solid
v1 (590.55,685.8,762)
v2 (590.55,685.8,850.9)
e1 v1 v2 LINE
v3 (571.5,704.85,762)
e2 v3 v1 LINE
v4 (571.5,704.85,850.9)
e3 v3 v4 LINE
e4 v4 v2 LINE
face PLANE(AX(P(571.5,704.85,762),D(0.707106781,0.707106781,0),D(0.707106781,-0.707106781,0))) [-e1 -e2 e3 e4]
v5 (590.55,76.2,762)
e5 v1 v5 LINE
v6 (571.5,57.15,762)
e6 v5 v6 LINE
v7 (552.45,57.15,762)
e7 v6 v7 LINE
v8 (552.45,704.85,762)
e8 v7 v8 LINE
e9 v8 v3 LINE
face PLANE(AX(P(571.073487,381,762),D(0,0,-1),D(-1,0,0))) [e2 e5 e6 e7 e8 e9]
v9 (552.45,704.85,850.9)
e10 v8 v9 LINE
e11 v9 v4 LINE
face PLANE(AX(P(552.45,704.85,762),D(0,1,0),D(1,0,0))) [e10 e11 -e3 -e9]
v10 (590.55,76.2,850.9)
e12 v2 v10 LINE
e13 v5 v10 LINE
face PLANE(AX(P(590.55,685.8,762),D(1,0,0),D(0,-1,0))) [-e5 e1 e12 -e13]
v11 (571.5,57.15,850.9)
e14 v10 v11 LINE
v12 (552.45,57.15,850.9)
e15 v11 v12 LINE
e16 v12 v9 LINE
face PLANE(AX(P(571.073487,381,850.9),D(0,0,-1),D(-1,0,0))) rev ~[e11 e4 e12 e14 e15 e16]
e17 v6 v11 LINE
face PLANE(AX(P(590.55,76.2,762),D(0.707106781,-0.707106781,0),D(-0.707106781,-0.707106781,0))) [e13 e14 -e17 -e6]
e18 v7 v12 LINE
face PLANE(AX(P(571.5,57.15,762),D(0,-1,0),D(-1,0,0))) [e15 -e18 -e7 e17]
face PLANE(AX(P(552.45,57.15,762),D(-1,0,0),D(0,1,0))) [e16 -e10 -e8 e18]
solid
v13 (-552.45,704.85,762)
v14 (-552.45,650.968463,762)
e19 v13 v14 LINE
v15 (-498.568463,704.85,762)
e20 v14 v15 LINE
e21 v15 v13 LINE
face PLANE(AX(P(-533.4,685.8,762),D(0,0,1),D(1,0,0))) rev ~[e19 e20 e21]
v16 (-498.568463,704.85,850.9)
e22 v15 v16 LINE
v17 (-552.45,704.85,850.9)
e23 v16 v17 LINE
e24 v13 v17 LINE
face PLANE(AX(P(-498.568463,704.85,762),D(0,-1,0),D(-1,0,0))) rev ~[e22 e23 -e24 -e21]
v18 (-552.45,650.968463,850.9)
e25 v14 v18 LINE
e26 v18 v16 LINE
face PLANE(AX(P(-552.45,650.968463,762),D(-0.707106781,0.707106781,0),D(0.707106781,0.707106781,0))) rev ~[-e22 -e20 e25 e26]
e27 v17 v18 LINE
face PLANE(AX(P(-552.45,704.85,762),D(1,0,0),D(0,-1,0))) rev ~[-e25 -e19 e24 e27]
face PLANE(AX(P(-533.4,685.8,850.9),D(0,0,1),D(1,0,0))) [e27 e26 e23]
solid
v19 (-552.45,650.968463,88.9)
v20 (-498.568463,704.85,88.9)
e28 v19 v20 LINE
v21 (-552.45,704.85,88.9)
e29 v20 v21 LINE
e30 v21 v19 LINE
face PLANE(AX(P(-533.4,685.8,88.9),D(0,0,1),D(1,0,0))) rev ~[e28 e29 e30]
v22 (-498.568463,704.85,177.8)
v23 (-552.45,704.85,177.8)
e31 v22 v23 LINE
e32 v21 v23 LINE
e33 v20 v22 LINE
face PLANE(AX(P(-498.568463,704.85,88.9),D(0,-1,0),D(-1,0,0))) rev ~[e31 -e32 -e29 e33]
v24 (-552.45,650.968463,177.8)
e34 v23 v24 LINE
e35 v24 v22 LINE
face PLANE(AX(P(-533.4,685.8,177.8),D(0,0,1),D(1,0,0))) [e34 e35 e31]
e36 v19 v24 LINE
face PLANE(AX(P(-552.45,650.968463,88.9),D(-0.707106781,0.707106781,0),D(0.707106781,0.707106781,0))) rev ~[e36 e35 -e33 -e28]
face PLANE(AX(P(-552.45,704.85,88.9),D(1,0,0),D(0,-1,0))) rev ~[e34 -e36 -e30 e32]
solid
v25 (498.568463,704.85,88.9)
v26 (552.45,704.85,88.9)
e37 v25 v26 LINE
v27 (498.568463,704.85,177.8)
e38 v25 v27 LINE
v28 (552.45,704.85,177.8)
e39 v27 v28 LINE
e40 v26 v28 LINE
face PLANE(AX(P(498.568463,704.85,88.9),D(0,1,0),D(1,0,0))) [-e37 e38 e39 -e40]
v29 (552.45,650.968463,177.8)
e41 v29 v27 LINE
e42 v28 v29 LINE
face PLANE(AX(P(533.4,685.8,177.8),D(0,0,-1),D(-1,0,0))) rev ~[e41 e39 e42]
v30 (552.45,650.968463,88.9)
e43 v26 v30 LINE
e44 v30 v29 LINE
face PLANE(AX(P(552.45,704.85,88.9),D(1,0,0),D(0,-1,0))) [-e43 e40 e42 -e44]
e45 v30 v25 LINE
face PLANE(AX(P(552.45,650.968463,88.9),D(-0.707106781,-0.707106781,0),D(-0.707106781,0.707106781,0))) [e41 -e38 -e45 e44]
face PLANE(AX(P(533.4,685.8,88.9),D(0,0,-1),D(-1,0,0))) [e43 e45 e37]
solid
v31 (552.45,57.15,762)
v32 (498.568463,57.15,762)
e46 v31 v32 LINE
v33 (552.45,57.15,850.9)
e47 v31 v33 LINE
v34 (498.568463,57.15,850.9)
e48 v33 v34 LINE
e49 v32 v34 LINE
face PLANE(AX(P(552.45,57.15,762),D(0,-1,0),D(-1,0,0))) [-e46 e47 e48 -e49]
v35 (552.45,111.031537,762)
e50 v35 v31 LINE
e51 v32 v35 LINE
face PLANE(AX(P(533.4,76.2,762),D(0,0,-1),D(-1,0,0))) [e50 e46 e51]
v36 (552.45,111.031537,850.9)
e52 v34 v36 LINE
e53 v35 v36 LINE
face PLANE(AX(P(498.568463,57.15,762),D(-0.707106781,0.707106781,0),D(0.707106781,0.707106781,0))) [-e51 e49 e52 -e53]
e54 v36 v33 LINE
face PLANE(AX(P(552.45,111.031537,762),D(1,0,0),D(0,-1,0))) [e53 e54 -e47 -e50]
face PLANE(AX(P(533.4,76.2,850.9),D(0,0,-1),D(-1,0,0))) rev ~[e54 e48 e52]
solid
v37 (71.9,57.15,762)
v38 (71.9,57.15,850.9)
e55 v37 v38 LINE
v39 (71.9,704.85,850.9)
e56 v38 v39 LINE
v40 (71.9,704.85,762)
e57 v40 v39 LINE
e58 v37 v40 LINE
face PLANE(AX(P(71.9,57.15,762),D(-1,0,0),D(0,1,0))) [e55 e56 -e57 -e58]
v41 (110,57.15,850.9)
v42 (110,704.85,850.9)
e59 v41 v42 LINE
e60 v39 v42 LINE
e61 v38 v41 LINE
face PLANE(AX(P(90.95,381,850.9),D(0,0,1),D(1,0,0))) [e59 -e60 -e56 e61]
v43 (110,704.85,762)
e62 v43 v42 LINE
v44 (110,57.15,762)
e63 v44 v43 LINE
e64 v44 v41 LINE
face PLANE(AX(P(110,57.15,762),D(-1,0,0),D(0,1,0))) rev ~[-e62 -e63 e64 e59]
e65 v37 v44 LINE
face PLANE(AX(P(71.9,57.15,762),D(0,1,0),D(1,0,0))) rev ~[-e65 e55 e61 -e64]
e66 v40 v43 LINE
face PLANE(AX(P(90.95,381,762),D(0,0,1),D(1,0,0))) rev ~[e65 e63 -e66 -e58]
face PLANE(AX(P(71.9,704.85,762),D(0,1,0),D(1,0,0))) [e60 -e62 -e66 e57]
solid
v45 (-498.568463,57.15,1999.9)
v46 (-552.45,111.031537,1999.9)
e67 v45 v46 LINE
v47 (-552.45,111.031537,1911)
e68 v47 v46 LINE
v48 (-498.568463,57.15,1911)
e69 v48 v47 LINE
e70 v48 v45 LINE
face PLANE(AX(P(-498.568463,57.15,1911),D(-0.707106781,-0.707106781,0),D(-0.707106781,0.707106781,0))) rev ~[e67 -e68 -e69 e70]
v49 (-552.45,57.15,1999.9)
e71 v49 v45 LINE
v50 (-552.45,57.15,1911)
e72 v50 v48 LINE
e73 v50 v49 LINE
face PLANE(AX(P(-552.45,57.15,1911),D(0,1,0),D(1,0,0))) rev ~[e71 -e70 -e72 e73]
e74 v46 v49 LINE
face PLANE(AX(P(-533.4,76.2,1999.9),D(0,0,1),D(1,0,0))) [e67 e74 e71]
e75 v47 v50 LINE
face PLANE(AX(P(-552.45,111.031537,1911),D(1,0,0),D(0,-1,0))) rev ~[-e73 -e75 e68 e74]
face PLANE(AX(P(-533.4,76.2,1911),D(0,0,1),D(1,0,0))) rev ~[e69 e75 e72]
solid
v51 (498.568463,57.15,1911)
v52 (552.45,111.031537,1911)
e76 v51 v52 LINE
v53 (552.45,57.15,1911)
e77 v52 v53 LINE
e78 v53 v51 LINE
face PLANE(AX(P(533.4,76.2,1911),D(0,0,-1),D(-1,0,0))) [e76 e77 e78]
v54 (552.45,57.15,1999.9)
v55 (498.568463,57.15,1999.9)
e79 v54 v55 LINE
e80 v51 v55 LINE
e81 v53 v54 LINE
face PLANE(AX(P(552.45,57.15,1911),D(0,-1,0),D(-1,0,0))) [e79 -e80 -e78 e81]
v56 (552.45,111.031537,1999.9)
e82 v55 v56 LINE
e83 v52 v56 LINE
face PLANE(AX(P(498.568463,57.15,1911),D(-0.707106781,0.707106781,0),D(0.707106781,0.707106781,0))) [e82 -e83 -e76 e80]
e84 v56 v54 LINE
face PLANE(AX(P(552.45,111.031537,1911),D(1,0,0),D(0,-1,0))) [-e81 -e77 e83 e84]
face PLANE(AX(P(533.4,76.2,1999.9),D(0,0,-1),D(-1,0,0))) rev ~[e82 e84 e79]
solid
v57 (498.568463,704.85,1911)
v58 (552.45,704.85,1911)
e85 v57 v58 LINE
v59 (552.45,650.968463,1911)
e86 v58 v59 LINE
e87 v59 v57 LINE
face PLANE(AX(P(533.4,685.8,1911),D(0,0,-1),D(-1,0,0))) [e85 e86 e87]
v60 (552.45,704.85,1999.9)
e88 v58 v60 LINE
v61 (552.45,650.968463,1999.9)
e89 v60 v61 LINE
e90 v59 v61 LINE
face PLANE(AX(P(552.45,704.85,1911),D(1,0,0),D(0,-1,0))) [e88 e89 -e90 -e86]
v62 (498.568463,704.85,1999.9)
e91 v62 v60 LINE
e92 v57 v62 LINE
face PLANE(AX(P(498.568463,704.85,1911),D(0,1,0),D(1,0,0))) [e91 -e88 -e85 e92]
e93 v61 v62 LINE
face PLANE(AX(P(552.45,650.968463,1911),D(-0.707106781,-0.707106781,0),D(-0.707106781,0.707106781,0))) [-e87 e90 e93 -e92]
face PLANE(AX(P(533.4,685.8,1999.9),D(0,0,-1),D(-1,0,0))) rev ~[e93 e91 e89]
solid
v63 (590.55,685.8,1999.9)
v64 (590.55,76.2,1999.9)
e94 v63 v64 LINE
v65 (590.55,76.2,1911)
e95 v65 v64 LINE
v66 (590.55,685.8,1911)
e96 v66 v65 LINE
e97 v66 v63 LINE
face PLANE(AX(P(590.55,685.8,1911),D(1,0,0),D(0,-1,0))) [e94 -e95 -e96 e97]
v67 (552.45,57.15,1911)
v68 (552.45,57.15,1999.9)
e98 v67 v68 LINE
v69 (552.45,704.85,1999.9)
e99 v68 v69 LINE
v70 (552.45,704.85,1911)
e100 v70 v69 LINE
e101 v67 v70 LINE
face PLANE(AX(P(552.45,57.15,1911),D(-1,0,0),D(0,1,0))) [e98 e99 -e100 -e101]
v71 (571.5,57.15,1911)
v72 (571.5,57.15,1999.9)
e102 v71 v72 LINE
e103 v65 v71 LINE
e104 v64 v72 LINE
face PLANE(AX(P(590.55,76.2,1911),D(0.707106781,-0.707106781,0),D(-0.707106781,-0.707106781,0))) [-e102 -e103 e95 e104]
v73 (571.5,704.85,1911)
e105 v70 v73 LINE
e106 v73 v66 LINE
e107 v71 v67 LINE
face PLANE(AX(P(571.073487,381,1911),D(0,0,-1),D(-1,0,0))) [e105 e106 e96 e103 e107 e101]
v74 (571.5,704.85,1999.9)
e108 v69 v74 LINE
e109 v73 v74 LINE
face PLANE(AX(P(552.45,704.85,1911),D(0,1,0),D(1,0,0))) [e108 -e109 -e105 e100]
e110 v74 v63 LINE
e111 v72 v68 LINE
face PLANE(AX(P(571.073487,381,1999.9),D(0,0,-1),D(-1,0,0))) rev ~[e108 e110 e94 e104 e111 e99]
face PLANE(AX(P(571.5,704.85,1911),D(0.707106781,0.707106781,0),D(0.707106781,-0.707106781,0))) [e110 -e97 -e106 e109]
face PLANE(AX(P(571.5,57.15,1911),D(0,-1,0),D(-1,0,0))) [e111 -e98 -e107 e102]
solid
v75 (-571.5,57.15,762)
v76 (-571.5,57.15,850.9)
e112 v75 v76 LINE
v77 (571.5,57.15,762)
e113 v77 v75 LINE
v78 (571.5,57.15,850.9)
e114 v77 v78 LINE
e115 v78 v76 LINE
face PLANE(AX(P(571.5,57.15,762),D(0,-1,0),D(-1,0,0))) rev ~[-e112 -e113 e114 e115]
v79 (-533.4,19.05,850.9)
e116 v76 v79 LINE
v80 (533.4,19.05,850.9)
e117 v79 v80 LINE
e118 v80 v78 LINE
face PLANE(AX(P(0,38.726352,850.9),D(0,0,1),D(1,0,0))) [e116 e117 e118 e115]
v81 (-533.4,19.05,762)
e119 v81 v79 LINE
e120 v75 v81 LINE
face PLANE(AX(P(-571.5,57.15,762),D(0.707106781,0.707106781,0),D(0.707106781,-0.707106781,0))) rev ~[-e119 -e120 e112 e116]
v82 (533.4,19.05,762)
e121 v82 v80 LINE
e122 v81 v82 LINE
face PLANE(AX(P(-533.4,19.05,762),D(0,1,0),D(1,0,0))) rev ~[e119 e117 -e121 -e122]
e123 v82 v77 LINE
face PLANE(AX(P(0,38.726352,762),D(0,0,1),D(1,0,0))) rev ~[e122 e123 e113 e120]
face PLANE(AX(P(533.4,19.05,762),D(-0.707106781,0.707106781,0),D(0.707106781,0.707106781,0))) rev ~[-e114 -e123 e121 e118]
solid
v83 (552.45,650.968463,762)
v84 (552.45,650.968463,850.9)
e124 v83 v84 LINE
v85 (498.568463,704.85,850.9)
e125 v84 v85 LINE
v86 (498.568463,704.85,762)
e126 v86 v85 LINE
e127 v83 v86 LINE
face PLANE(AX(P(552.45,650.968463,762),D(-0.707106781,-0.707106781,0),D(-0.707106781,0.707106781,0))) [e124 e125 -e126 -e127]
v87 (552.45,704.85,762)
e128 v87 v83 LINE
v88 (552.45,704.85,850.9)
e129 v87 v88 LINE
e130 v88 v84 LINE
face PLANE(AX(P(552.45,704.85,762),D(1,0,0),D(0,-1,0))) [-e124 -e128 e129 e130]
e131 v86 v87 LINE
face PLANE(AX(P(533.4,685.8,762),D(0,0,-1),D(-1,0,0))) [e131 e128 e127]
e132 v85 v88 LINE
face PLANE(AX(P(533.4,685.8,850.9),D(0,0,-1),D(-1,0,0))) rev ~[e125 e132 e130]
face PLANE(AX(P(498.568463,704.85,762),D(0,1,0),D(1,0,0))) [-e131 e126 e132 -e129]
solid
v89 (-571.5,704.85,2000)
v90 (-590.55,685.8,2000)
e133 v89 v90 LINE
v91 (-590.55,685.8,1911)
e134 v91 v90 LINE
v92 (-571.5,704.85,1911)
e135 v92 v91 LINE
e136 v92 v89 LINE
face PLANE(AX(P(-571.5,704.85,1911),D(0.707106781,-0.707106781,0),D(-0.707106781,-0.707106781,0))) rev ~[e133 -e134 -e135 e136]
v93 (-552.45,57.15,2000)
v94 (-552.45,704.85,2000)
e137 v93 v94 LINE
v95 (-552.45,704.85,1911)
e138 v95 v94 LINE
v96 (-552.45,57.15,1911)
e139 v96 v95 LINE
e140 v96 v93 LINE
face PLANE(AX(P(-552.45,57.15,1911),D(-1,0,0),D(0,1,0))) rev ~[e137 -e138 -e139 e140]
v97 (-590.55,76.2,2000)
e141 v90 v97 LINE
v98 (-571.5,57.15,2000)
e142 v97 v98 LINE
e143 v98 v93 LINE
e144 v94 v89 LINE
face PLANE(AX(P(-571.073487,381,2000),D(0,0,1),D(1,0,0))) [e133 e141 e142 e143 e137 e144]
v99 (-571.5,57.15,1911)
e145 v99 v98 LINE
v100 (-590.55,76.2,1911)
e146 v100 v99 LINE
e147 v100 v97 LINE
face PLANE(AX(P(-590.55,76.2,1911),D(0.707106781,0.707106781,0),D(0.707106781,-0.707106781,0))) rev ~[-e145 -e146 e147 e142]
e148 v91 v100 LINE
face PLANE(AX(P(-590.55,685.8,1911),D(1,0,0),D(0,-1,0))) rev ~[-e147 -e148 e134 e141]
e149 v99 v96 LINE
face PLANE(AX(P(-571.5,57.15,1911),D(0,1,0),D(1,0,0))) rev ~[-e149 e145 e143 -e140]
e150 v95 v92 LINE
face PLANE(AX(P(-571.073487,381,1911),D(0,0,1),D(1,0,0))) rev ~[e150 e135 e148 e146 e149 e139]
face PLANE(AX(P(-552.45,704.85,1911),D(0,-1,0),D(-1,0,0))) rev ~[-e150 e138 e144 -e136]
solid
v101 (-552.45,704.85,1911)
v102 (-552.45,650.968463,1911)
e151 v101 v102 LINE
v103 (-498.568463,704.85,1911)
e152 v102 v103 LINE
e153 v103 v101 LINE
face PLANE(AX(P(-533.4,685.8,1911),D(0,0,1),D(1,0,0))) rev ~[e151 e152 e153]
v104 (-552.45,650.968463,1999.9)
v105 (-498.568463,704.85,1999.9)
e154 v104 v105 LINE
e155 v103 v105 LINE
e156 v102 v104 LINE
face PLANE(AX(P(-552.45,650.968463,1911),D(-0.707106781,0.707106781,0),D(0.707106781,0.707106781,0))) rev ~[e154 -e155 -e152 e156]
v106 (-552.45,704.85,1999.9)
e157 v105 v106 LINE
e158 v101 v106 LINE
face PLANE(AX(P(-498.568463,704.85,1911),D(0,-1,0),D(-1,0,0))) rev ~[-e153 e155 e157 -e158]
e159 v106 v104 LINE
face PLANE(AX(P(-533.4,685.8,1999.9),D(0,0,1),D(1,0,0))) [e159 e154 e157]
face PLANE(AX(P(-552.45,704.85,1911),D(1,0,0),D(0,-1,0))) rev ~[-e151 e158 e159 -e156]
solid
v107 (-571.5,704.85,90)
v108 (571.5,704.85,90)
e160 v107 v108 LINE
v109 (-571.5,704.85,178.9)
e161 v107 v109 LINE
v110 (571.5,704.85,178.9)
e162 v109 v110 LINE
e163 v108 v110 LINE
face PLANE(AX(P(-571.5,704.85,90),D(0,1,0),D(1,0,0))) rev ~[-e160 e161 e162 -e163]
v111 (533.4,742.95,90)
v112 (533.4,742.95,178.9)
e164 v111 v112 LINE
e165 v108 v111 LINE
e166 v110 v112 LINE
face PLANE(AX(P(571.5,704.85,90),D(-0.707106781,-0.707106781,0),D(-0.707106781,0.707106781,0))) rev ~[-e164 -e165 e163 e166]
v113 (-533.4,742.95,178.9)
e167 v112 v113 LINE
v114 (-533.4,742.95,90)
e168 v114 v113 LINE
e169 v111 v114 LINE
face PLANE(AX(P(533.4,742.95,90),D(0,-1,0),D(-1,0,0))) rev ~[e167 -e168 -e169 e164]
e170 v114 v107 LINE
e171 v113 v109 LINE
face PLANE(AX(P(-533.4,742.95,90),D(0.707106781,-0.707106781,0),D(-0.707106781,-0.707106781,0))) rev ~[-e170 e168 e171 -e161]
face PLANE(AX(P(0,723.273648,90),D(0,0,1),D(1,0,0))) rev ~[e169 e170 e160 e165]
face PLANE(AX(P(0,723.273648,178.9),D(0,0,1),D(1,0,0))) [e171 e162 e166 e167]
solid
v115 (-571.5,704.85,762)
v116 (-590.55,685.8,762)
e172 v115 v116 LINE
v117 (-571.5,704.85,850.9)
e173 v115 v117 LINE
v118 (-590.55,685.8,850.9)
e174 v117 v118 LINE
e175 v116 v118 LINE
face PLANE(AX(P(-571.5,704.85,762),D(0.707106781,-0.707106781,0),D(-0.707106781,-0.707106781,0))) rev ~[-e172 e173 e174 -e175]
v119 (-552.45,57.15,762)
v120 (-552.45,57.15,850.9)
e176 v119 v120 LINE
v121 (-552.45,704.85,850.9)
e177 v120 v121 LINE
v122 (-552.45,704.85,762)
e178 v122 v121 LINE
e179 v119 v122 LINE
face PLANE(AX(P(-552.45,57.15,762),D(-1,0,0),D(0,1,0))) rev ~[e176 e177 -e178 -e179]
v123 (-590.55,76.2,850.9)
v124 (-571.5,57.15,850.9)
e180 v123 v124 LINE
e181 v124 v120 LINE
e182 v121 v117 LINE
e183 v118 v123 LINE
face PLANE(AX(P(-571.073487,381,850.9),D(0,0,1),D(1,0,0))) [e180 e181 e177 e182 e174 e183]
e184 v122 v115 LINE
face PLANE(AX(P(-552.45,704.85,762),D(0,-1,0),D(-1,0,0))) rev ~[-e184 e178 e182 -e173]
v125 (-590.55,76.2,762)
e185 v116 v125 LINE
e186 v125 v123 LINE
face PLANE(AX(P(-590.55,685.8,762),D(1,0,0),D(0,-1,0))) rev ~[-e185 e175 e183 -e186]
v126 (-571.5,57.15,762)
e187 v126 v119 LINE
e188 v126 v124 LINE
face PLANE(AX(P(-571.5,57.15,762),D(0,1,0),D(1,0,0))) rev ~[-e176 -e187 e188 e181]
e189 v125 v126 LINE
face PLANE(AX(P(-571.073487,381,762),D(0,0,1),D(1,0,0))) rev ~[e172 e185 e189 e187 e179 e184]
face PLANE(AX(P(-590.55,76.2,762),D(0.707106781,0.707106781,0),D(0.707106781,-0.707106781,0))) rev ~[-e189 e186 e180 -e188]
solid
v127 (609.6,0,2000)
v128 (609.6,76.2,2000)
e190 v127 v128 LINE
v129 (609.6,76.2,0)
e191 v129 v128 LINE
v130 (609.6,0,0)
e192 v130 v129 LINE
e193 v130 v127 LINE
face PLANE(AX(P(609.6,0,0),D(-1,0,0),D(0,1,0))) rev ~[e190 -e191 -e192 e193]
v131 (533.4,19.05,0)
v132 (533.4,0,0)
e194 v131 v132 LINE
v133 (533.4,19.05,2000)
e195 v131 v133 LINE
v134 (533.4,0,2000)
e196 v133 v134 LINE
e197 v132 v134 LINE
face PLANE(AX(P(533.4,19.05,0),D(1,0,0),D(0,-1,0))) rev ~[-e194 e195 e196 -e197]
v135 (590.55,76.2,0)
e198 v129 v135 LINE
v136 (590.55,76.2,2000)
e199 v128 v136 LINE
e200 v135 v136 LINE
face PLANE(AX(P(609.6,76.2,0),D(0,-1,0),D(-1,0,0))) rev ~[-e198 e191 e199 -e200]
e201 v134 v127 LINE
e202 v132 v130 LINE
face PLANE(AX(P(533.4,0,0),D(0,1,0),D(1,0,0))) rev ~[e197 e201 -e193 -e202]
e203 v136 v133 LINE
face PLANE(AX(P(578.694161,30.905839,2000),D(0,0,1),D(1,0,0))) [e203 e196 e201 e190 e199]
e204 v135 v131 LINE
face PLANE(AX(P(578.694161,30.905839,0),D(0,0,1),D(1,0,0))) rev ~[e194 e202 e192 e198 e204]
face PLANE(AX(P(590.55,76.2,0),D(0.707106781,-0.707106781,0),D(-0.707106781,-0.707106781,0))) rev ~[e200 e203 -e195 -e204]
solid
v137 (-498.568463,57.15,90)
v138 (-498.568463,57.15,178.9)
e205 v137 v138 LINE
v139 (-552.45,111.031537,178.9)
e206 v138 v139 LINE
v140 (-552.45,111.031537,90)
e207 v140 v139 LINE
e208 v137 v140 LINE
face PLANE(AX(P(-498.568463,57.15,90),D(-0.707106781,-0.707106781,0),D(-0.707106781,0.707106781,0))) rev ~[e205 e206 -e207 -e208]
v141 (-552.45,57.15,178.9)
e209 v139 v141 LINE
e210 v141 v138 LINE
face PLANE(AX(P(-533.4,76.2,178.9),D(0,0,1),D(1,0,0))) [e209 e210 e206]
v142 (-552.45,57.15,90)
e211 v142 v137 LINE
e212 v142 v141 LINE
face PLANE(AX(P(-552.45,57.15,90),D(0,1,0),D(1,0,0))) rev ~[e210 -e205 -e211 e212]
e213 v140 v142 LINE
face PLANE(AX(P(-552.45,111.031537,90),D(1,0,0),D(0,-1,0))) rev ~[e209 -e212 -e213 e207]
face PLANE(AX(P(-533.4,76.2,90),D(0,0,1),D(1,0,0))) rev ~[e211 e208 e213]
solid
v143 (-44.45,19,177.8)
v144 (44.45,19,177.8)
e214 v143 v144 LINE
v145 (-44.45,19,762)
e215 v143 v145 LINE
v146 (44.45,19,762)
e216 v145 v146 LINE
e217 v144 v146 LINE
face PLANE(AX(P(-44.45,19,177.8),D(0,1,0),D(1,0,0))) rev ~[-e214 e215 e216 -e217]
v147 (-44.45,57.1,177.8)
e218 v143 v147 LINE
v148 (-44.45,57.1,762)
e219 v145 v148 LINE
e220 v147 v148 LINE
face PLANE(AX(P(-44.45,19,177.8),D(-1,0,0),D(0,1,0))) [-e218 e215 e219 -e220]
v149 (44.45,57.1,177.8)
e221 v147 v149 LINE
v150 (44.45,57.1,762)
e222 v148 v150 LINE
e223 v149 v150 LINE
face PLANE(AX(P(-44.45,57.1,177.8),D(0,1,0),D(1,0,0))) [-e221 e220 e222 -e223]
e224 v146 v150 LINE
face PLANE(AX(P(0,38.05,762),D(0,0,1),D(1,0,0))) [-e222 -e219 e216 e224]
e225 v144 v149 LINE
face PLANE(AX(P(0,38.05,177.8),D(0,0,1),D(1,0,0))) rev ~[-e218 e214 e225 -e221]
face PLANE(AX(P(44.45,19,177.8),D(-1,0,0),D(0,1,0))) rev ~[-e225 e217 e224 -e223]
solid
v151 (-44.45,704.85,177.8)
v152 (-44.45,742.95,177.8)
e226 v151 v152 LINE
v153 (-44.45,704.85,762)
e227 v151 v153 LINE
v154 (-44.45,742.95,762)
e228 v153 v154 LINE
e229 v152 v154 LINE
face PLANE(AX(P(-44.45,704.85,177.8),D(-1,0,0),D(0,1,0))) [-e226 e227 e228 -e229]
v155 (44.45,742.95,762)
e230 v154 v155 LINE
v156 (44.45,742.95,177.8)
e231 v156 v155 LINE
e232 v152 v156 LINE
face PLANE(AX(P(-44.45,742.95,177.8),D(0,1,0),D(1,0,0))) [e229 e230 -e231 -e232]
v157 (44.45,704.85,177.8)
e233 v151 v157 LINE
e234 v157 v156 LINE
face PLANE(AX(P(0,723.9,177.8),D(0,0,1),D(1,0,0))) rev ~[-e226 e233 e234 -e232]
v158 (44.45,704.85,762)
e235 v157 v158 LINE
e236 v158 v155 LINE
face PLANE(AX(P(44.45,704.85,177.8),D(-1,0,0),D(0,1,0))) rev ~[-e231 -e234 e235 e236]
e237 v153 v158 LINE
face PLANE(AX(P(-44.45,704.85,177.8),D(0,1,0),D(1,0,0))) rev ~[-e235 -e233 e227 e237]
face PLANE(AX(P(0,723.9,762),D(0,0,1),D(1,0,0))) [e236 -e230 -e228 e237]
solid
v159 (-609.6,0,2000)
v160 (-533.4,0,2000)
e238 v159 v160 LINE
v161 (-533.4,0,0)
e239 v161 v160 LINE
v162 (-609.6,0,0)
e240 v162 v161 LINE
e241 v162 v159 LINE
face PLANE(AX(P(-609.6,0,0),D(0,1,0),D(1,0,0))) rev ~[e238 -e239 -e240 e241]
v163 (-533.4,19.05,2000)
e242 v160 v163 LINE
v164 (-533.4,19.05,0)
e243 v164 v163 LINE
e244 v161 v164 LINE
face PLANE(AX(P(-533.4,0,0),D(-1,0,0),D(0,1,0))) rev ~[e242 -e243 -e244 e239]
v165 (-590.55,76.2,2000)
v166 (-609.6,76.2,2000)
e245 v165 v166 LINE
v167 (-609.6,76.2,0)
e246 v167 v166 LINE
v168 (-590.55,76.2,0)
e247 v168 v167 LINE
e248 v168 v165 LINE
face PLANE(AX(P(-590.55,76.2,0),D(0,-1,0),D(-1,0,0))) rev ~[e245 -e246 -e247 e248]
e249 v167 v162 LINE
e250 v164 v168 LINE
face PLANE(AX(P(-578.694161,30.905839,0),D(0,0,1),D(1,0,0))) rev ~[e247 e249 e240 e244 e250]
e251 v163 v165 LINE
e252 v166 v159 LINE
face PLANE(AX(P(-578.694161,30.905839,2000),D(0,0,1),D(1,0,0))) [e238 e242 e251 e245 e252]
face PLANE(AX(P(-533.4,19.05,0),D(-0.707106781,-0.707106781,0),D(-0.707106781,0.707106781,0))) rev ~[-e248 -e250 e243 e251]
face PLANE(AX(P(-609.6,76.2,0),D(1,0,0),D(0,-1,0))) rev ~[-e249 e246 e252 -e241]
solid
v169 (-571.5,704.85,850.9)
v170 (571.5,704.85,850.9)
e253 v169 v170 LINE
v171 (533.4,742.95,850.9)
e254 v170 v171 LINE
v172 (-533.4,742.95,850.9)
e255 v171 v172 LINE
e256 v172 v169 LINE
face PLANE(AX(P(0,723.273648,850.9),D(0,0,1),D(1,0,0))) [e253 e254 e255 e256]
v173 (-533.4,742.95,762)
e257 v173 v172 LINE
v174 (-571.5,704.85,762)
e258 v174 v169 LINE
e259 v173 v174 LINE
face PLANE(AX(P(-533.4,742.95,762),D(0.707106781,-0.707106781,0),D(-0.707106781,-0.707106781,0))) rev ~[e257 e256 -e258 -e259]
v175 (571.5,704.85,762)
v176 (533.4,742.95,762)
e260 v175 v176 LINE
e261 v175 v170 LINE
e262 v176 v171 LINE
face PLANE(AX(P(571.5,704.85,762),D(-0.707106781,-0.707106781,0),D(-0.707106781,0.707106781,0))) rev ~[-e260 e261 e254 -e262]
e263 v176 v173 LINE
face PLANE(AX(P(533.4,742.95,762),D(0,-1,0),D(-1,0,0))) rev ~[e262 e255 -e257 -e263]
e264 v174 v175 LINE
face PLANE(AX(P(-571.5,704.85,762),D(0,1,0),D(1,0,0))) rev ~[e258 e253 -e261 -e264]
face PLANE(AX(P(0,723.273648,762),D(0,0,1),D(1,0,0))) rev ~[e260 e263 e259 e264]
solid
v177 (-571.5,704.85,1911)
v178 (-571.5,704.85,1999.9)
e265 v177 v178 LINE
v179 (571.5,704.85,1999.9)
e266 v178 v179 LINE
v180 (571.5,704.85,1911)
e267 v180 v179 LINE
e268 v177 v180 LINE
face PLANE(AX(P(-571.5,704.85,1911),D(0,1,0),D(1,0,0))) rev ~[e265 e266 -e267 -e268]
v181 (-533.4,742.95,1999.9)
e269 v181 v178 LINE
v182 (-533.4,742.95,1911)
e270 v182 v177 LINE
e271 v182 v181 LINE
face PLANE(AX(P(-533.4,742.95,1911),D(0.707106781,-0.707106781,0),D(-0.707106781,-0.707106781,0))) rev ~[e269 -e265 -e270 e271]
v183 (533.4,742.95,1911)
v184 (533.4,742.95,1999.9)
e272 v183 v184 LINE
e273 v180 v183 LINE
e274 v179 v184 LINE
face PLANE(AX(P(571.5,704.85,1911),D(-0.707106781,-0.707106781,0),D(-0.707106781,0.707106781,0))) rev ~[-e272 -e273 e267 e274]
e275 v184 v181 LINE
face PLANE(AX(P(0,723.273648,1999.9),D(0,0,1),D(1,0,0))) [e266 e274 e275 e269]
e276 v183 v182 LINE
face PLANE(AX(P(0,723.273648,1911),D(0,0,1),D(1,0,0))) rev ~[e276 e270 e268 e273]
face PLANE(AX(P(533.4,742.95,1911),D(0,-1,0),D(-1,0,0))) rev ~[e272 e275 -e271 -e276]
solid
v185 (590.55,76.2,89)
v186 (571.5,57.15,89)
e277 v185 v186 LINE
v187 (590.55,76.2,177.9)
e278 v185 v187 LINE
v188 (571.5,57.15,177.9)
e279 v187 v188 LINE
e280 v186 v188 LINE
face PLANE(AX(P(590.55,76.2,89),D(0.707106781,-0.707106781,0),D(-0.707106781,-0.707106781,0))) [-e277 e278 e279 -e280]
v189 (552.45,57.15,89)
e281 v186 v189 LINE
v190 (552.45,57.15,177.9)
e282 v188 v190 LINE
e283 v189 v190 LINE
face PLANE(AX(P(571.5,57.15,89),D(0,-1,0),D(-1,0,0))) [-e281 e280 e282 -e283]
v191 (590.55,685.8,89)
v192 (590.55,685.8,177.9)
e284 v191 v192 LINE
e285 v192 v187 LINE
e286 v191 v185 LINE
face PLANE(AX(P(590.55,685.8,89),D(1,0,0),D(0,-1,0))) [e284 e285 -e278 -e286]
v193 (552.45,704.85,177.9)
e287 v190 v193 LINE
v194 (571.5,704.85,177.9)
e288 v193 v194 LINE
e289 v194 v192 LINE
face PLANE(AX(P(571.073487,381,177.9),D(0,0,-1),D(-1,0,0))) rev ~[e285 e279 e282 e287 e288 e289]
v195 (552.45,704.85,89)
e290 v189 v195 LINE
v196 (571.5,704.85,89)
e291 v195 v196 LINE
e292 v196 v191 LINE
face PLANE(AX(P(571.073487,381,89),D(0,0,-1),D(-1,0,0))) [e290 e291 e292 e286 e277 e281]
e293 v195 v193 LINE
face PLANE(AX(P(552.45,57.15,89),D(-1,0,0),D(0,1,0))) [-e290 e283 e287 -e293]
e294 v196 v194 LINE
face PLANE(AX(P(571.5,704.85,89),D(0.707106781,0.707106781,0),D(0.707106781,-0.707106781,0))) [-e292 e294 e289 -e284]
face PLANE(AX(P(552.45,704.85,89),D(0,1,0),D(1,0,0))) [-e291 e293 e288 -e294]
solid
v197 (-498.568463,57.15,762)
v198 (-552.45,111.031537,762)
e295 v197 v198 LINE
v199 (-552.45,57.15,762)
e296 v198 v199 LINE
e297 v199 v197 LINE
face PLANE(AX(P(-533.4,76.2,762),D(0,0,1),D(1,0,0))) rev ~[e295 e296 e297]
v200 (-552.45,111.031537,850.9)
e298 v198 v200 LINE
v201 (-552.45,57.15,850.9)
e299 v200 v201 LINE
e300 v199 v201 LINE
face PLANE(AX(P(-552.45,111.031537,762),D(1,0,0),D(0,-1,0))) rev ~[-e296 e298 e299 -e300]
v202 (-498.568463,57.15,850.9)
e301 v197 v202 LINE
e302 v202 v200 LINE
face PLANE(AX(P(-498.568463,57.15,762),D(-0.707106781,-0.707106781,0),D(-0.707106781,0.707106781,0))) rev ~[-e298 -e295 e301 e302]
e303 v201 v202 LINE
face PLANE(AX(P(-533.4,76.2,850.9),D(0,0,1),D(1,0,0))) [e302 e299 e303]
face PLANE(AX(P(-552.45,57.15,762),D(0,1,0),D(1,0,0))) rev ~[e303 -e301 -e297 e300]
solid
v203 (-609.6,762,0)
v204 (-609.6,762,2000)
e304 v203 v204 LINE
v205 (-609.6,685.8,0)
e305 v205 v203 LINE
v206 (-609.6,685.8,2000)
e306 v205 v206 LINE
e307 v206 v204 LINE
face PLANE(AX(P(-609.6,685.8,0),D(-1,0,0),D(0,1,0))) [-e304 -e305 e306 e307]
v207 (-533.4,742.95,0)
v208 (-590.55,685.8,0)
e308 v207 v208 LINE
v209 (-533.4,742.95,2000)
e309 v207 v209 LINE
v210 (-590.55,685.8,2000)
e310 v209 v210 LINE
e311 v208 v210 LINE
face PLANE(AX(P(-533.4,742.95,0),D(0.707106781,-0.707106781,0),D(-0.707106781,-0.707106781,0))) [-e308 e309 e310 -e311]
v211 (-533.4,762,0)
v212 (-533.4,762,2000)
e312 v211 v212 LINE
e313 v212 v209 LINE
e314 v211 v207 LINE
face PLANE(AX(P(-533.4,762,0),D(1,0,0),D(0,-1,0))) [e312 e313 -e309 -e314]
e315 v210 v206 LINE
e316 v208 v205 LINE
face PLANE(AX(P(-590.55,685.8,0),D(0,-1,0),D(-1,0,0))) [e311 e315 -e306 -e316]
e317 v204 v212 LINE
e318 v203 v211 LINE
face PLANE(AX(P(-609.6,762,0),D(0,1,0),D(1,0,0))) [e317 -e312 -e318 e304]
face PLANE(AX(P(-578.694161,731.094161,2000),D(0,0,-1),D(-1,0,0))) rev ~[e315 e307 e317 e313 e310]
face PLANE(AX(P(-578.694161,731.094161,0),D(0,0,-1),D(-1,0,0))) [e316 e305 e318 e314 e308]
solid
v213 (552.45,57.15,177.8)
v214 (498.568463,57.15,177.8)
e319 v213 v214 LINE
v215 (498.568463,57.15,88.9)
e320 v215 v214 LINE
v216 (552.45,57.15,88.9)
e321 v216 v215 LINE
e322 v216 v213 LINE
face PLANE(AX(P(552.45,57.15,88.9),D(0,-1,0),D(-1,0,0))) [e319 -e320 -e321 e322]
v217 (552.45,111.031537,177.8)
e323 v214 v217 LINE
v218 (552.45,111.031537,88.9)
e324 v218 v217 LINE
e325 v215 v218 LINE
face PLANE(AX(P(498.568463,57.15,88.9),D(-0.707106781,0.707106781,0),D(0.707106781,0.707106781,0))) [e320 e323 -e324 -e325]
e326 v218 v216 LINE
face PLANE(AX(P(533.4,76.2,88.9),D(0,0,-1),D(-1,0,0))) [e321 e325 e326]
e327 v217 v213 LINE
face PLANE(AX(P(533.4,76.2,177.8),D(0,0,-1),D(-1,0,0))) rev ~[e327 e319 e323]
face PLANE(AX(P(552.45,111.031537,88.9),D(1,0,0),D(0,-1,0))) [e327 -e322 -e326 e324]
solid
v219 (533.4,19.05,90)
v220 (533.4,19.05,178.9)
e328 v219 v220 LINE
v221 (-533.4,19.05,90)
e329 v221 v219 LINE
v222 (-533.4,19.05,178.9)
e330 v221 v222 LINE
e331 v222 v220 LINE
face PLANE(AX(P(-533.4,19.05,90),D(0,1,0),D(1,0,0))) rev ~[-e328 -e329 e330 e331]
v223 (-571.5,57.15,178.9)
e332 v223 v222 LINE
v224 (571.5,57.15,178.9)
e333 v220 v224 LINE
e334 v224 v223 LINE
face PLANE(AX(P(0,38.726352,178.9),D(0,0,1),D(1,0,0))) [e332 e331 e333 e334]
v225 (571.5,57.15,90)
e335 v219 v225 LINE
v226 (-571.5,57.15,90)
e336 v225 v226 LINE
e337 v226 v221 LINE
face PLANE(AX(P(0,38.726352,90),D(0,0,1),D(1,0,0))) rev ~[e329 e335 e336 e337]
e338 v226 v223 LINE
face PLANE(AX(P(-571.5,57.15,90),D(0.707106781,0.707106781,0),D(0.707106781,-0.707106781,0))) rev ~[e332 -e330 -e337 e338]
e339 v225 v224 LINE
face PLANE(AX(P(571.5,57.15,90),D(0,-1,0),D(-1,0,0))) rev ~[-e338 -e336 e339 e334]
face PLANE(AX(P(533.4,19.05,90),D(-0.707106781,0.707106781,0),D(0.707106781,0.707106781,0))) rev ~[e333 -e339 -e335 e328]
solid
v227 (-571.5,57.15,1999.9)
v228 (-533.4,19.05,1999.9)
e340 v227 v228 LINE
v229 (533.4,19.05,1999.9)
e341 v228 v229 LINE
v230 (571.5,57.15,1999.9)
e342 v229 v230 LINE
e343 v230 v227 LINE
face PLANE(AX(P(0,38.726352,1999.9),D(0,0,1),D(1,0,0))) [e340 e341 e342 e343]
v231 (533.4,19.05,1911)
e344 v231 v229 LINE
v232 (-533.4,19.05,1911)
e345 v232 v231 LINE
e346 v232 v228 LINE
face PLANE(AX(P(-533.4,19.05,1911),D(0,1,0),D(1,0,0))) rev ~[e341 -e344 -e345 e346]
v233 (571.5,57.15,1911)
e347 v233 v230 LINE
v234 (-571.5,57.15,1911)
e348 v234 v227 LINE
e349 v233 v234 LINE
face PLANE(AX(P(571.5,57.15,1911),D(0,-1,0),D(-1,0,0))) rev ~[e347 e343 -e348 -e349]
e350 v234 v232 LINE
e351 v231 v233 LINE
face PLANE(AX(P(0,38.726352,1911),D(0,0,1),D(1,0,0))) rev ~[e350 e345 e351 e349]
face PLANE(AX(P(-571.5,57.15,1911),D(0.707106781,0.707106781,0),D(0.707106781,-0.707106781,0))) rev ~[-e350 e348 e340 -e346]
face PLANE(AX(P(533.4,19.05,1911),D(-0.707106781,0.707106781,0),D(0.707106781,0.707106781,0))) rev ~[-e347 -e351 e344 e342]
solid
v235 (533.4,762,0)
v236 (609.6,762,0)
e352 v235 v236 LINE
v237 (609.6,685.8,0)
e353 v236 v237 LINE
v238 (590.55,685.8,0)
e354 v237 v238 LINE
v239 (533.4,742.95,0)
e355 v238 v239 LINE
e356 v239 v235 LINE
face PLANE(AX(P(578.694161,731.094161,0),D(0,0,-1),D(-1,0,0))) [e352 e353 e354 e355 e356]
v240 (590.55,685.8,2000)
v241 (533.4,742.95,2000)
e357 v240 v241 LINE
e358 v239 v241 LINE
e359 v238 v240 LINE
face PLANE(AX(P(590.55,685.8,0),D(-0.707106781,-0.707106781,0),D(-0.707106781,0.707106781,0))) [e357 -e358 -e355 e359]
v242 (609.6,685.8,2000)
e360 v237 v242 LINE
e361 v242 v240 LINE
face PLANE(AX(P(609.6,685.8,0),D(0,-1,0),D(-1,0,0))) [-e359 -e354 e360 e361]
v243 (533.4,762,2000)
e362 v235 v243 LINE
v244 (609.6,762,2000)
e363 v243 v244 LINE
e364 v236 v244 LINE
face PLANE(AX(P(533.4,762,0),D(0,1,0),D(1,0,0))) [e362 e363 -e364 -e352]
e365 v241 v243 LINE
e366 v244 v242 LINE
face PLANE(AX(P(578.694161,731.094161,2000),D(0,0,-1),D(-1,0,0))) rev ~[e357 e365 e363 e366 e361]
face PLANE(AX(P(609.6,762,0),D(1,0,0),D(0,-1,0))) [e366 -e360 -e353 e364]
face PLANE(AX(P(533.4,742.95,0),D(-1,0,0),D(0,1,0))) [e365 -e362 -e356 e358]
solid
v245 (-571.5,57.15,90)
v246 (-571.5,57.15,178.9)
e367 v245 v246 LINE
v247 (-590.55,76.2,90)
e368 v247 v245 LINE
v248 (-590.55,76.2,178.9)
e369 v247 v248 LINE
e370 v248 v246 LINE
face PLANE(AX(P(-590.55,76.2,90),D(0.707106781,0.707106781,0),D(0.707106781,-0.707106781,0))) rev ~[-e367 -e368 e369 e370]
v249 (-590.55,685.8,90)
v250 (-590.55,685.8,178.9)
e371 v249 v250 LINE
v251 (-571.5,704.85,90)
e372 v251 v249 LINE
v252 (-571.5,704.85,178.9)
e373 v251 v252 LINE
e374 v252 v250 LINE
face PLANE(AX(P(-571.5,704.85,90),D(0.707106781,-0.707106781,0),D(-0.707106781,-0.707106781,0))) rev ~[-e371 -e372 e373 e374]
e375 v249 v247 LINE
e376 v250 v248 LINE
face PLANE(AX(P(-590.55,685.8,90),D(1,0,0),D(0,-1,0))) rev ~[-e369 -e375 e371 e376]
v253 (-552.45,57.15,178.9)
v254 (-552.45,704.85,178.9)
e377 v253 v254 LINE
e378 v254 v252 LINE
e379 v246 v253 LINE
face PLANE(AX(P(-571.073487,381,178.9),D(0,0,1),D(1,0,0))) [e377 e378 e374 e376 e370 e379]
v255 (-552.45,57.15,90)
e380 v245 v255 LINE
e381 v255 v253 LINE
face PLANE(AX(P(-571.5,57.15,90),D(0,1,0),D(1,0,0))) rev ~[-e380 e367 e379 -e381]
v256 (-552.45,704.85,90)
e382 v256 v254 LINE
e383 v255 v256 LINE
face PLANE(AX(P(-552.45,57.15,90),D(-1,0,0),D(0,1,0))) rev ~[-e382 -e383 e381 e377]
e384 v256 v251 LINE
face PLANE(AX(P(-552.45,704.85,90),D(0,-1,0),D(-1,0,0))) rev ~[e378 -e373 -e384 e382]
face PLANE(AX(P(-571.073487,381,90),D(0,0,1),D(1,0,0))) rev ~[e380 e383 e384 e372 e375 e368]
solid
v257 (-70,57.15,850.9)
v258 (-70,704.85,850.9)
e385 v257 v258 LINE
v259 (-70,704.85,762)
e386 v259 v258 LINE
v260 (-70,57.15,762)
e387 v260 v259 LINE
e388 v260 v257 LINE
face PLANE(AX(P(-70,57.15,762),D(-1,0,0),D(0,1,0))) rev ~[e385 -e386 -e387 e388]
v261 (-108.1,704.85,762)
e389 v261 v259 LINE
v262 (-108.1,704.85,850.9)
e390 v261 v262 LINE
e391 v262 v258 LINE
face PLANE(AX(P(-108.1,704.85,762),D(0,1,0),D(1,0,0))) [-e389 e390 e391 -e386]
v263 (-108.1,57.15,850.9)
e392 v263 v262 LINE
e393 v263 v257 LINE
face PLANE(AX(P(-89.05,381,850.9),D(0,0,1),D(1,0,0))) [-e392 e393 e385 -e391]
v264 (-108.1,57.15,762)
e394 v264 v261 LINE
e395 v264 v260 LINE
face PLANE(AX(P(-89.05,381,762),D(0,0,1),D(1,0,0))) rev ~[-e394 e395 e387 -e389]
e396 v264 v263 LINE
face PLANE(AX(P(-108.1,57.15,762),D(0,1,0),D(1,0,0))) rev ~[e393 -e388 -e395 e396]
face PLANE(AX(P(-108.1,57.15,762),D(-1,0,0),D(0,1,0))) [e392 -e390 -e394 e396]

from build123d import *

# Parameters (mm, degrees)
PAD002_DEPTH = 2000
PAD003_DEPTH = 2000
PAD004_DEPTH = 2000
PAD005_DEPTH = 2000
PAD009_DEPTH = 88.9
PAD010_DEPTH = 88.9
PAD013_DEPTH = 88.9
PAD015_DEPTH = 88.9
PAD018_DEPTH = 88.9
PAD020_DEPTH = 88.9
PAD021_DEPTH = 88.9
SKETCH_W     = 88.9
SKETCH_H     = 38.1
PAD_DEPTH    = 584.2
SKETCH021_W  = 88.9
SKETCH021_H  = 38.1
PAD022_DEPTH = 584.2
PAD023_DEPTH = 88.9
SKETCH025_W  = 38.1
SKETCH025_H  = 647.7
PAD026_DEPTH = 88.9
SKETCH026_W  = 38.1
SKETCH026_H  = 647.7
PAD027_DEPTH = 88.9
PAD029_DEPTH = 88.9
PAD030_DEPTH = 88.9
PAD031_DEPTH = 88.9
PAD032_DEPTH = 88.9
PAD033_DEPTH = 88.9
PAD034_DEPTH = 89
PAD035_DEPTH = 88.9
PAD037_DEPTH = 88.9
PAD038_DEPTH = 88.9
PAD039_DEPTH = 88.9
PAD041_DEPTH = 88.9
PAD042_DEPTH = 88.9
PAD043_DEPTH = 88.9
PAD045_DEPTH = 88.9
PAD046_DEPTH = 88.9
PAD047_DEPTH = 88.9


with BuildPart() as back_left_corner:
    # Sketch002 → Pad002 (new body)
    with BuildSketch(Plane.XY):
        Polygon((-533.4, 762), (-533.4, 742.95), (-590.55, 685.8), (-609.6, 685.8), (-609.6, 762), align=None)
    extrude(amount=PAD002_DEPTH)


with BuildPart() as front_left_corner:
    # Sketch003 → Pad003 (new body)
    with BuildSketch(Plane.XY):
        Polygon((-609.6, 76.2), (-609.6, 0), (-533.4, 0), (-533.4, 19.05), (-590.55, 76.2), align=None)
    extrude(amount=PAD003_DEPTH)


with BuildPart() as front_right_corner:
    # Sketch004 → Pad004 (new body)
    with BuildSketch(Plane.XY):
        Polygon((533.4, 19.05), (533.4, 0), (609.6, 0), (609.6, 76.2), (590.55, 76.2), align=None)
    extrude(amount=PAD004_DEPTH)


with BuildPart() as back_right_corner:
    # Sketch005 → Pad005 (new body)
    with BuildSketch(Plane.XY):
        Polygon((533.4, 762), (609.6, 762), (609.6, 685.8), (590.55, 685.8), (533.4, 742.95), align=None)
    extrude(amount=PAD005_DEPTH)


with BuildPart() as mid_back:
    # Sketch009 → Pad009 (new body)
    with BuildSketch(Plane.XY.offset(762)):
        Polygon((-533.4, 742.95), (-571.5, 704.85), (571.5, 704.85), (533.4, 742.95), align=None)
    extrude(amount=PAD009_DEPTH)


with BuildPart() as mid_front:
    # Sketch010 → Pad010 (new body)
    with BuildSketch(Plane.XY.offset(762)):
        Polygon((-571.5, 57.15), (-533.4, 19.05), (533.4, 19.05), (571.5, 57.15), align=None)
    extrude(amount=PAD010_DEPTH)


with BuildPart() as mid_left_side:
    # Sketch012 → Pad013 (new body)
    with BuildSketch(Plane.XY.offset(762)):
        Polygon((-590.55, 685.8), (-590.55, 76.2), (-571.5, 57.15), (-552.45, 57.15), (-552.45, 704.85), (-571.5, 704.85), align=None)
    extrude(amount=PAD013_DEPTH)


with BuildPart() as mid_right_side:
    # Sketch014 → Pad015 (new body)
    with BuildSketch(Plane.XY.offset(762)):
        Polygon((552.45, 704.85), (571.5, 704.85), (590.55, 685.8), (590.55, 76.2), (571.5, 57.15), (552.45, 57.15), align=None)
    extrude(amount=PAD015_DEPTH)


with BuildPart() as lower_back:
    # Sketch017 → Pad018 (new body)
    with BuildSketch(Plane.XY.offset(90)):
        Polygon((-533.4, 742.95), (-571.5, 704.85), (571.5, 704.85), (533.4, 742.95), align=None)
    extrude(amount=PAD018_DEPTH)


with BuildPart() as lower_left_side:
    # Sketch019 → Pad020 (new body)
    with BuildSketch(Plane.XY.offset(90)):
        Polygon((-590.55, 685.8), (-590.55, 76.2), (-571.5, 57.15), (-552.45, 57.15), (-552.45, 704.85), (-571.5, 704.85), align=None)
    extrude(amount=PAD020_DEPTH)


with BuildPart() as lower_right_side:
    # Sketch020 → Pad021 (new body)
    with BuildSketch(Plane.XY.offset(89)):
        Polygon((552.45, 704.85), (571.5, 704.85), (590.55, 685.8), (590.55, 76.2), (571.5, 57.15), (552.45, 57.15), align=None)
    extrude(amount=PAD021_DEPTH)


with BuildPart() as front_brace:
    # Sketch → Pad (new body)
    with BuildSketch(Plane.XY.offset(177.8)):
        with Locations((0, 38.05)):
            Rectangle(SKETCH_W, SKETCH_H)
    extrude(amount=PAD_DEPTH)


with BuildPart() as back_brace:
    # Sketch021 → Pad022 (new body)
    with BuildSketch(Plane.XY.offset(177.8)):
        with Locations((0, 723.9)):
            Rectangle(SKETCH021_W, SKETCH021_H)
    extrude(amount=PAD022_DEPTH)


with BuildPart() as lower_front:
    # Sketch022 → Pad023 (new body)
    with BuildSketch(Plane.XY.offset(90)):
        Polygon((-571.5, 57.15), (-533.4, 19.05), (533.4, 19.05), (571.5, 57.15), align=None)
    extrude(amount=PAD023_DEPTH)


with BuildPart() as left_mill_mount:
    # Sketch025 → Pad026 (new body)
    with BuildSketch(Plane.XY.offset(762)):
        with Locations((-89.05, 381)):
            Rectangle(SKETCH025_W, SKETCH025_H)
    extrude(amount=PAD026_DEPTH)


with BuildPart() as right_mill_mount:
    # Sketch026 → Pad027 (new body)
    with BuildSketch(Plane.XY.offset(762)):
        with Locations((90.95, 381)):
            Rectangle(SKETCH026_W, SKETCH026_H)
    extrude(amount=PAD027_DEPTH)


with BuildPart() as left_front_corner_brace:
    # Sketch028 → Pad029 (new body)
    with BuildSketch(Plane.XY.offset(90)):
        Polygon((-552.45, 111.031537), (-552.45, 57.15), (-498.568463, 57.15), align=None)
    extrude(amount=PAD029_DEPTH)


with BuildPart() as mid_left_front_corner_brace:
    # Sketch029 → Pad030 (new body)
    with BuildSketch(Plane.XY.offset(762)):
        Polygon((-552.45, 111.031537), (-552.45, 57.15), (-498.568463, 57.15), align=None)
    extrude(amount=PAD030_DEPTH)


with BuildPart() as top_left_front_corner_brace:
    # Sketch030 → Pad031 (new body)
    with BuildSketch(Plane.XY.offset(1911)):
        Polygon((-552.45, 111.031537), (-552.45, 57.15), (-498.568463, 57.15), align=None)
    extrude(amount=PAD031_DEPTH)


with BuildPart() as top_front:
    # Sketch031 → Pad032 (new body)
    with BuildSketch(Plane.XY.offset(1911)):
        Polygon((-571.5, 57.15), (-533.4, 19.05), (533.4, 19.05), (571.5, 57.15), align=None)
    extrude(amount=PAD032_DEPTH)


with BuildPart() as top_back:
    # Sketch032 → Pad033 (new body)
    with BuildSketch(Plane.XY.offset(1911)):
        Polygon((-533.4, 742.95), (-571.5, 704.85), (571.5, 704.85), (533.4, 742.95), align=None)
    extrude(amount=PAD033_DEPTH)


with BuildPart() as top_left:
    # Sketch033 → Pad034 (new body)
    with BuildSketch(Plane.XY.offset(1911)):
        Polygon((-590.55, 685.8), (-590.55, 76.2), (-571.5, 57.15), (-552.45, 57.15), (-552.45, 704.85), (-571.5, 704.85), align=None)
    extrude(amount=PAD034_DEPTH)


with BuildPart() as top_right_side:
    # Sketch034 → Pad035 (new body)
    with BuildSketch(Plane.XY.offset(1911)):
        Polygon((552.45, 704.85), (571.5, 704.85), (590.55, 685.8), (590.55, 76.2), (571.5, 57.15), (552.45, 57.15), align=None)
    extrude(amount=PAD035_DEPTH)


with BuildPart() as top_right_corner_brace:
    # Sketch036 → Pad037 (new body)
    with BuildSketch(Plane.XY.offset(1911)):
        Polygon((552.45, 111.031537), (552.45, 57.15), (498.568463, 57.15), align=None)
    extrude(amount=PAD037_DEPTH)


with BuildPart() as mid_right_front_corner_brace:
    # Sketch037 → Pad038 (new body)
    with BuildSketch(Plane.XY.offset(762)):
        Polygon((552.45, 111.031537), (552.45, 57.15), (498.568463, 57.15), align=None)
    extrude(amount=PAD038_DEPTH)


with BuildPart() as lower_right_front_corner_brace:
    # Sketch038 → Pad039 (new body)
    with BuildSketch(Plane.XY.offset(88.9)):
        Polygon((552.45, 111.031537), (552.45, 57.15), (498.568463, 57.15), align=None)
    extrude(amount=PAD039_DEPTH)


with BuildPart() as lower_back_left_corner_brace:
    # Sketch040 → Pad041 (new body)
    with BuildSketch(Plane.XY.offset(88.9)):
        Polygon((-552.45, 704.85), (-552.45, 650.968463), (-498.568463, 704.85), align=None)
    extrude(amount=PAD041_DEPTH)


with BuildPart() as mid_back_left_corner_brace:
    # Sketch041 → Pad042 (new body)
    with BuildSketch(Plane.XY.offset(762)):
        Polygon((-552.45, 704.85), (-552.45, 650.968463), (-498.568463, 704.85), align=None)
    extrude(amount=PAD042_DEPTH)


with BuildPart() as top_back_left_corner_brace:
    # Sketch042 → Pad043 (new body)
    with BuildSketch(Plane.XY.offset(1911)):
        Polygon((-552.45, 704.85), (-552.45, 650.968463), (-498.568463, 704.85), align=None)
    extrude(amount=PAD043_DEPTH)


with BuildPart() as lower_back_right_corner_brace:
    # Sketch044 → Pad045 (new body)
    with BuildSketch(Plane.XY.offset(88.9)):
        Polygon((498.568463, 704.85), (552.45, 704.85), (552.45, 650.968463), align=None)
    extrude(amount=PAD045_DEPTH)


with BuildPart() as mid_back_right_corner_brace:
    # Sketch045 → Pad046 (new body)
    with BuildSketch(Plane.XY.offset(762)):
        Polygon((498.568463, 704.85), (552.45, 704.85), (552.45, 650.968463), align=None)
    extrude(amount=PAD046_DEPTH)


with BuildPart() as top_back_right_corner_brace:
    # Sketch046 → Pad047 (new body)
    with BuildSketch(Plane.XY.offset(1911)):
        Polygon((498.568463, 704.85), (552.45, 704.85), (552.45, 650.968463), align=None)
    extrude(amount=PAD047_DEPTH)


solid = Compound([back_left_corner.part, front_left_corner.part, front_right_corner.part, back_right_corner.part, mid_back.part, mid_front.part, mid_left_side.part, mid_right_side.part, lower_back.part, lower_left_side.part, lower_right_side.part, front_brace.part, back_brace.part, lower_front.part, left_mill_mount.part, right_mill_mount.part, left_front_corner_brace.part, mid_left_front_corner_brace.part, top_left_front_corner_brace.part, top_front.part, top_back.part, top_left.part, top_right_side.part, top_right_corner_brace.part, mid_right_front_corner_brace.part, lower_right_front_corner_brace.part, lower_back_left_corner_brace.part, mid_back_left_corner_brace.part, top_back_left_corner_brace.part, lower_back_right_corner_brace.part, mid_back_right_corner_brace.part, top_back_right_corner_brace.part])
